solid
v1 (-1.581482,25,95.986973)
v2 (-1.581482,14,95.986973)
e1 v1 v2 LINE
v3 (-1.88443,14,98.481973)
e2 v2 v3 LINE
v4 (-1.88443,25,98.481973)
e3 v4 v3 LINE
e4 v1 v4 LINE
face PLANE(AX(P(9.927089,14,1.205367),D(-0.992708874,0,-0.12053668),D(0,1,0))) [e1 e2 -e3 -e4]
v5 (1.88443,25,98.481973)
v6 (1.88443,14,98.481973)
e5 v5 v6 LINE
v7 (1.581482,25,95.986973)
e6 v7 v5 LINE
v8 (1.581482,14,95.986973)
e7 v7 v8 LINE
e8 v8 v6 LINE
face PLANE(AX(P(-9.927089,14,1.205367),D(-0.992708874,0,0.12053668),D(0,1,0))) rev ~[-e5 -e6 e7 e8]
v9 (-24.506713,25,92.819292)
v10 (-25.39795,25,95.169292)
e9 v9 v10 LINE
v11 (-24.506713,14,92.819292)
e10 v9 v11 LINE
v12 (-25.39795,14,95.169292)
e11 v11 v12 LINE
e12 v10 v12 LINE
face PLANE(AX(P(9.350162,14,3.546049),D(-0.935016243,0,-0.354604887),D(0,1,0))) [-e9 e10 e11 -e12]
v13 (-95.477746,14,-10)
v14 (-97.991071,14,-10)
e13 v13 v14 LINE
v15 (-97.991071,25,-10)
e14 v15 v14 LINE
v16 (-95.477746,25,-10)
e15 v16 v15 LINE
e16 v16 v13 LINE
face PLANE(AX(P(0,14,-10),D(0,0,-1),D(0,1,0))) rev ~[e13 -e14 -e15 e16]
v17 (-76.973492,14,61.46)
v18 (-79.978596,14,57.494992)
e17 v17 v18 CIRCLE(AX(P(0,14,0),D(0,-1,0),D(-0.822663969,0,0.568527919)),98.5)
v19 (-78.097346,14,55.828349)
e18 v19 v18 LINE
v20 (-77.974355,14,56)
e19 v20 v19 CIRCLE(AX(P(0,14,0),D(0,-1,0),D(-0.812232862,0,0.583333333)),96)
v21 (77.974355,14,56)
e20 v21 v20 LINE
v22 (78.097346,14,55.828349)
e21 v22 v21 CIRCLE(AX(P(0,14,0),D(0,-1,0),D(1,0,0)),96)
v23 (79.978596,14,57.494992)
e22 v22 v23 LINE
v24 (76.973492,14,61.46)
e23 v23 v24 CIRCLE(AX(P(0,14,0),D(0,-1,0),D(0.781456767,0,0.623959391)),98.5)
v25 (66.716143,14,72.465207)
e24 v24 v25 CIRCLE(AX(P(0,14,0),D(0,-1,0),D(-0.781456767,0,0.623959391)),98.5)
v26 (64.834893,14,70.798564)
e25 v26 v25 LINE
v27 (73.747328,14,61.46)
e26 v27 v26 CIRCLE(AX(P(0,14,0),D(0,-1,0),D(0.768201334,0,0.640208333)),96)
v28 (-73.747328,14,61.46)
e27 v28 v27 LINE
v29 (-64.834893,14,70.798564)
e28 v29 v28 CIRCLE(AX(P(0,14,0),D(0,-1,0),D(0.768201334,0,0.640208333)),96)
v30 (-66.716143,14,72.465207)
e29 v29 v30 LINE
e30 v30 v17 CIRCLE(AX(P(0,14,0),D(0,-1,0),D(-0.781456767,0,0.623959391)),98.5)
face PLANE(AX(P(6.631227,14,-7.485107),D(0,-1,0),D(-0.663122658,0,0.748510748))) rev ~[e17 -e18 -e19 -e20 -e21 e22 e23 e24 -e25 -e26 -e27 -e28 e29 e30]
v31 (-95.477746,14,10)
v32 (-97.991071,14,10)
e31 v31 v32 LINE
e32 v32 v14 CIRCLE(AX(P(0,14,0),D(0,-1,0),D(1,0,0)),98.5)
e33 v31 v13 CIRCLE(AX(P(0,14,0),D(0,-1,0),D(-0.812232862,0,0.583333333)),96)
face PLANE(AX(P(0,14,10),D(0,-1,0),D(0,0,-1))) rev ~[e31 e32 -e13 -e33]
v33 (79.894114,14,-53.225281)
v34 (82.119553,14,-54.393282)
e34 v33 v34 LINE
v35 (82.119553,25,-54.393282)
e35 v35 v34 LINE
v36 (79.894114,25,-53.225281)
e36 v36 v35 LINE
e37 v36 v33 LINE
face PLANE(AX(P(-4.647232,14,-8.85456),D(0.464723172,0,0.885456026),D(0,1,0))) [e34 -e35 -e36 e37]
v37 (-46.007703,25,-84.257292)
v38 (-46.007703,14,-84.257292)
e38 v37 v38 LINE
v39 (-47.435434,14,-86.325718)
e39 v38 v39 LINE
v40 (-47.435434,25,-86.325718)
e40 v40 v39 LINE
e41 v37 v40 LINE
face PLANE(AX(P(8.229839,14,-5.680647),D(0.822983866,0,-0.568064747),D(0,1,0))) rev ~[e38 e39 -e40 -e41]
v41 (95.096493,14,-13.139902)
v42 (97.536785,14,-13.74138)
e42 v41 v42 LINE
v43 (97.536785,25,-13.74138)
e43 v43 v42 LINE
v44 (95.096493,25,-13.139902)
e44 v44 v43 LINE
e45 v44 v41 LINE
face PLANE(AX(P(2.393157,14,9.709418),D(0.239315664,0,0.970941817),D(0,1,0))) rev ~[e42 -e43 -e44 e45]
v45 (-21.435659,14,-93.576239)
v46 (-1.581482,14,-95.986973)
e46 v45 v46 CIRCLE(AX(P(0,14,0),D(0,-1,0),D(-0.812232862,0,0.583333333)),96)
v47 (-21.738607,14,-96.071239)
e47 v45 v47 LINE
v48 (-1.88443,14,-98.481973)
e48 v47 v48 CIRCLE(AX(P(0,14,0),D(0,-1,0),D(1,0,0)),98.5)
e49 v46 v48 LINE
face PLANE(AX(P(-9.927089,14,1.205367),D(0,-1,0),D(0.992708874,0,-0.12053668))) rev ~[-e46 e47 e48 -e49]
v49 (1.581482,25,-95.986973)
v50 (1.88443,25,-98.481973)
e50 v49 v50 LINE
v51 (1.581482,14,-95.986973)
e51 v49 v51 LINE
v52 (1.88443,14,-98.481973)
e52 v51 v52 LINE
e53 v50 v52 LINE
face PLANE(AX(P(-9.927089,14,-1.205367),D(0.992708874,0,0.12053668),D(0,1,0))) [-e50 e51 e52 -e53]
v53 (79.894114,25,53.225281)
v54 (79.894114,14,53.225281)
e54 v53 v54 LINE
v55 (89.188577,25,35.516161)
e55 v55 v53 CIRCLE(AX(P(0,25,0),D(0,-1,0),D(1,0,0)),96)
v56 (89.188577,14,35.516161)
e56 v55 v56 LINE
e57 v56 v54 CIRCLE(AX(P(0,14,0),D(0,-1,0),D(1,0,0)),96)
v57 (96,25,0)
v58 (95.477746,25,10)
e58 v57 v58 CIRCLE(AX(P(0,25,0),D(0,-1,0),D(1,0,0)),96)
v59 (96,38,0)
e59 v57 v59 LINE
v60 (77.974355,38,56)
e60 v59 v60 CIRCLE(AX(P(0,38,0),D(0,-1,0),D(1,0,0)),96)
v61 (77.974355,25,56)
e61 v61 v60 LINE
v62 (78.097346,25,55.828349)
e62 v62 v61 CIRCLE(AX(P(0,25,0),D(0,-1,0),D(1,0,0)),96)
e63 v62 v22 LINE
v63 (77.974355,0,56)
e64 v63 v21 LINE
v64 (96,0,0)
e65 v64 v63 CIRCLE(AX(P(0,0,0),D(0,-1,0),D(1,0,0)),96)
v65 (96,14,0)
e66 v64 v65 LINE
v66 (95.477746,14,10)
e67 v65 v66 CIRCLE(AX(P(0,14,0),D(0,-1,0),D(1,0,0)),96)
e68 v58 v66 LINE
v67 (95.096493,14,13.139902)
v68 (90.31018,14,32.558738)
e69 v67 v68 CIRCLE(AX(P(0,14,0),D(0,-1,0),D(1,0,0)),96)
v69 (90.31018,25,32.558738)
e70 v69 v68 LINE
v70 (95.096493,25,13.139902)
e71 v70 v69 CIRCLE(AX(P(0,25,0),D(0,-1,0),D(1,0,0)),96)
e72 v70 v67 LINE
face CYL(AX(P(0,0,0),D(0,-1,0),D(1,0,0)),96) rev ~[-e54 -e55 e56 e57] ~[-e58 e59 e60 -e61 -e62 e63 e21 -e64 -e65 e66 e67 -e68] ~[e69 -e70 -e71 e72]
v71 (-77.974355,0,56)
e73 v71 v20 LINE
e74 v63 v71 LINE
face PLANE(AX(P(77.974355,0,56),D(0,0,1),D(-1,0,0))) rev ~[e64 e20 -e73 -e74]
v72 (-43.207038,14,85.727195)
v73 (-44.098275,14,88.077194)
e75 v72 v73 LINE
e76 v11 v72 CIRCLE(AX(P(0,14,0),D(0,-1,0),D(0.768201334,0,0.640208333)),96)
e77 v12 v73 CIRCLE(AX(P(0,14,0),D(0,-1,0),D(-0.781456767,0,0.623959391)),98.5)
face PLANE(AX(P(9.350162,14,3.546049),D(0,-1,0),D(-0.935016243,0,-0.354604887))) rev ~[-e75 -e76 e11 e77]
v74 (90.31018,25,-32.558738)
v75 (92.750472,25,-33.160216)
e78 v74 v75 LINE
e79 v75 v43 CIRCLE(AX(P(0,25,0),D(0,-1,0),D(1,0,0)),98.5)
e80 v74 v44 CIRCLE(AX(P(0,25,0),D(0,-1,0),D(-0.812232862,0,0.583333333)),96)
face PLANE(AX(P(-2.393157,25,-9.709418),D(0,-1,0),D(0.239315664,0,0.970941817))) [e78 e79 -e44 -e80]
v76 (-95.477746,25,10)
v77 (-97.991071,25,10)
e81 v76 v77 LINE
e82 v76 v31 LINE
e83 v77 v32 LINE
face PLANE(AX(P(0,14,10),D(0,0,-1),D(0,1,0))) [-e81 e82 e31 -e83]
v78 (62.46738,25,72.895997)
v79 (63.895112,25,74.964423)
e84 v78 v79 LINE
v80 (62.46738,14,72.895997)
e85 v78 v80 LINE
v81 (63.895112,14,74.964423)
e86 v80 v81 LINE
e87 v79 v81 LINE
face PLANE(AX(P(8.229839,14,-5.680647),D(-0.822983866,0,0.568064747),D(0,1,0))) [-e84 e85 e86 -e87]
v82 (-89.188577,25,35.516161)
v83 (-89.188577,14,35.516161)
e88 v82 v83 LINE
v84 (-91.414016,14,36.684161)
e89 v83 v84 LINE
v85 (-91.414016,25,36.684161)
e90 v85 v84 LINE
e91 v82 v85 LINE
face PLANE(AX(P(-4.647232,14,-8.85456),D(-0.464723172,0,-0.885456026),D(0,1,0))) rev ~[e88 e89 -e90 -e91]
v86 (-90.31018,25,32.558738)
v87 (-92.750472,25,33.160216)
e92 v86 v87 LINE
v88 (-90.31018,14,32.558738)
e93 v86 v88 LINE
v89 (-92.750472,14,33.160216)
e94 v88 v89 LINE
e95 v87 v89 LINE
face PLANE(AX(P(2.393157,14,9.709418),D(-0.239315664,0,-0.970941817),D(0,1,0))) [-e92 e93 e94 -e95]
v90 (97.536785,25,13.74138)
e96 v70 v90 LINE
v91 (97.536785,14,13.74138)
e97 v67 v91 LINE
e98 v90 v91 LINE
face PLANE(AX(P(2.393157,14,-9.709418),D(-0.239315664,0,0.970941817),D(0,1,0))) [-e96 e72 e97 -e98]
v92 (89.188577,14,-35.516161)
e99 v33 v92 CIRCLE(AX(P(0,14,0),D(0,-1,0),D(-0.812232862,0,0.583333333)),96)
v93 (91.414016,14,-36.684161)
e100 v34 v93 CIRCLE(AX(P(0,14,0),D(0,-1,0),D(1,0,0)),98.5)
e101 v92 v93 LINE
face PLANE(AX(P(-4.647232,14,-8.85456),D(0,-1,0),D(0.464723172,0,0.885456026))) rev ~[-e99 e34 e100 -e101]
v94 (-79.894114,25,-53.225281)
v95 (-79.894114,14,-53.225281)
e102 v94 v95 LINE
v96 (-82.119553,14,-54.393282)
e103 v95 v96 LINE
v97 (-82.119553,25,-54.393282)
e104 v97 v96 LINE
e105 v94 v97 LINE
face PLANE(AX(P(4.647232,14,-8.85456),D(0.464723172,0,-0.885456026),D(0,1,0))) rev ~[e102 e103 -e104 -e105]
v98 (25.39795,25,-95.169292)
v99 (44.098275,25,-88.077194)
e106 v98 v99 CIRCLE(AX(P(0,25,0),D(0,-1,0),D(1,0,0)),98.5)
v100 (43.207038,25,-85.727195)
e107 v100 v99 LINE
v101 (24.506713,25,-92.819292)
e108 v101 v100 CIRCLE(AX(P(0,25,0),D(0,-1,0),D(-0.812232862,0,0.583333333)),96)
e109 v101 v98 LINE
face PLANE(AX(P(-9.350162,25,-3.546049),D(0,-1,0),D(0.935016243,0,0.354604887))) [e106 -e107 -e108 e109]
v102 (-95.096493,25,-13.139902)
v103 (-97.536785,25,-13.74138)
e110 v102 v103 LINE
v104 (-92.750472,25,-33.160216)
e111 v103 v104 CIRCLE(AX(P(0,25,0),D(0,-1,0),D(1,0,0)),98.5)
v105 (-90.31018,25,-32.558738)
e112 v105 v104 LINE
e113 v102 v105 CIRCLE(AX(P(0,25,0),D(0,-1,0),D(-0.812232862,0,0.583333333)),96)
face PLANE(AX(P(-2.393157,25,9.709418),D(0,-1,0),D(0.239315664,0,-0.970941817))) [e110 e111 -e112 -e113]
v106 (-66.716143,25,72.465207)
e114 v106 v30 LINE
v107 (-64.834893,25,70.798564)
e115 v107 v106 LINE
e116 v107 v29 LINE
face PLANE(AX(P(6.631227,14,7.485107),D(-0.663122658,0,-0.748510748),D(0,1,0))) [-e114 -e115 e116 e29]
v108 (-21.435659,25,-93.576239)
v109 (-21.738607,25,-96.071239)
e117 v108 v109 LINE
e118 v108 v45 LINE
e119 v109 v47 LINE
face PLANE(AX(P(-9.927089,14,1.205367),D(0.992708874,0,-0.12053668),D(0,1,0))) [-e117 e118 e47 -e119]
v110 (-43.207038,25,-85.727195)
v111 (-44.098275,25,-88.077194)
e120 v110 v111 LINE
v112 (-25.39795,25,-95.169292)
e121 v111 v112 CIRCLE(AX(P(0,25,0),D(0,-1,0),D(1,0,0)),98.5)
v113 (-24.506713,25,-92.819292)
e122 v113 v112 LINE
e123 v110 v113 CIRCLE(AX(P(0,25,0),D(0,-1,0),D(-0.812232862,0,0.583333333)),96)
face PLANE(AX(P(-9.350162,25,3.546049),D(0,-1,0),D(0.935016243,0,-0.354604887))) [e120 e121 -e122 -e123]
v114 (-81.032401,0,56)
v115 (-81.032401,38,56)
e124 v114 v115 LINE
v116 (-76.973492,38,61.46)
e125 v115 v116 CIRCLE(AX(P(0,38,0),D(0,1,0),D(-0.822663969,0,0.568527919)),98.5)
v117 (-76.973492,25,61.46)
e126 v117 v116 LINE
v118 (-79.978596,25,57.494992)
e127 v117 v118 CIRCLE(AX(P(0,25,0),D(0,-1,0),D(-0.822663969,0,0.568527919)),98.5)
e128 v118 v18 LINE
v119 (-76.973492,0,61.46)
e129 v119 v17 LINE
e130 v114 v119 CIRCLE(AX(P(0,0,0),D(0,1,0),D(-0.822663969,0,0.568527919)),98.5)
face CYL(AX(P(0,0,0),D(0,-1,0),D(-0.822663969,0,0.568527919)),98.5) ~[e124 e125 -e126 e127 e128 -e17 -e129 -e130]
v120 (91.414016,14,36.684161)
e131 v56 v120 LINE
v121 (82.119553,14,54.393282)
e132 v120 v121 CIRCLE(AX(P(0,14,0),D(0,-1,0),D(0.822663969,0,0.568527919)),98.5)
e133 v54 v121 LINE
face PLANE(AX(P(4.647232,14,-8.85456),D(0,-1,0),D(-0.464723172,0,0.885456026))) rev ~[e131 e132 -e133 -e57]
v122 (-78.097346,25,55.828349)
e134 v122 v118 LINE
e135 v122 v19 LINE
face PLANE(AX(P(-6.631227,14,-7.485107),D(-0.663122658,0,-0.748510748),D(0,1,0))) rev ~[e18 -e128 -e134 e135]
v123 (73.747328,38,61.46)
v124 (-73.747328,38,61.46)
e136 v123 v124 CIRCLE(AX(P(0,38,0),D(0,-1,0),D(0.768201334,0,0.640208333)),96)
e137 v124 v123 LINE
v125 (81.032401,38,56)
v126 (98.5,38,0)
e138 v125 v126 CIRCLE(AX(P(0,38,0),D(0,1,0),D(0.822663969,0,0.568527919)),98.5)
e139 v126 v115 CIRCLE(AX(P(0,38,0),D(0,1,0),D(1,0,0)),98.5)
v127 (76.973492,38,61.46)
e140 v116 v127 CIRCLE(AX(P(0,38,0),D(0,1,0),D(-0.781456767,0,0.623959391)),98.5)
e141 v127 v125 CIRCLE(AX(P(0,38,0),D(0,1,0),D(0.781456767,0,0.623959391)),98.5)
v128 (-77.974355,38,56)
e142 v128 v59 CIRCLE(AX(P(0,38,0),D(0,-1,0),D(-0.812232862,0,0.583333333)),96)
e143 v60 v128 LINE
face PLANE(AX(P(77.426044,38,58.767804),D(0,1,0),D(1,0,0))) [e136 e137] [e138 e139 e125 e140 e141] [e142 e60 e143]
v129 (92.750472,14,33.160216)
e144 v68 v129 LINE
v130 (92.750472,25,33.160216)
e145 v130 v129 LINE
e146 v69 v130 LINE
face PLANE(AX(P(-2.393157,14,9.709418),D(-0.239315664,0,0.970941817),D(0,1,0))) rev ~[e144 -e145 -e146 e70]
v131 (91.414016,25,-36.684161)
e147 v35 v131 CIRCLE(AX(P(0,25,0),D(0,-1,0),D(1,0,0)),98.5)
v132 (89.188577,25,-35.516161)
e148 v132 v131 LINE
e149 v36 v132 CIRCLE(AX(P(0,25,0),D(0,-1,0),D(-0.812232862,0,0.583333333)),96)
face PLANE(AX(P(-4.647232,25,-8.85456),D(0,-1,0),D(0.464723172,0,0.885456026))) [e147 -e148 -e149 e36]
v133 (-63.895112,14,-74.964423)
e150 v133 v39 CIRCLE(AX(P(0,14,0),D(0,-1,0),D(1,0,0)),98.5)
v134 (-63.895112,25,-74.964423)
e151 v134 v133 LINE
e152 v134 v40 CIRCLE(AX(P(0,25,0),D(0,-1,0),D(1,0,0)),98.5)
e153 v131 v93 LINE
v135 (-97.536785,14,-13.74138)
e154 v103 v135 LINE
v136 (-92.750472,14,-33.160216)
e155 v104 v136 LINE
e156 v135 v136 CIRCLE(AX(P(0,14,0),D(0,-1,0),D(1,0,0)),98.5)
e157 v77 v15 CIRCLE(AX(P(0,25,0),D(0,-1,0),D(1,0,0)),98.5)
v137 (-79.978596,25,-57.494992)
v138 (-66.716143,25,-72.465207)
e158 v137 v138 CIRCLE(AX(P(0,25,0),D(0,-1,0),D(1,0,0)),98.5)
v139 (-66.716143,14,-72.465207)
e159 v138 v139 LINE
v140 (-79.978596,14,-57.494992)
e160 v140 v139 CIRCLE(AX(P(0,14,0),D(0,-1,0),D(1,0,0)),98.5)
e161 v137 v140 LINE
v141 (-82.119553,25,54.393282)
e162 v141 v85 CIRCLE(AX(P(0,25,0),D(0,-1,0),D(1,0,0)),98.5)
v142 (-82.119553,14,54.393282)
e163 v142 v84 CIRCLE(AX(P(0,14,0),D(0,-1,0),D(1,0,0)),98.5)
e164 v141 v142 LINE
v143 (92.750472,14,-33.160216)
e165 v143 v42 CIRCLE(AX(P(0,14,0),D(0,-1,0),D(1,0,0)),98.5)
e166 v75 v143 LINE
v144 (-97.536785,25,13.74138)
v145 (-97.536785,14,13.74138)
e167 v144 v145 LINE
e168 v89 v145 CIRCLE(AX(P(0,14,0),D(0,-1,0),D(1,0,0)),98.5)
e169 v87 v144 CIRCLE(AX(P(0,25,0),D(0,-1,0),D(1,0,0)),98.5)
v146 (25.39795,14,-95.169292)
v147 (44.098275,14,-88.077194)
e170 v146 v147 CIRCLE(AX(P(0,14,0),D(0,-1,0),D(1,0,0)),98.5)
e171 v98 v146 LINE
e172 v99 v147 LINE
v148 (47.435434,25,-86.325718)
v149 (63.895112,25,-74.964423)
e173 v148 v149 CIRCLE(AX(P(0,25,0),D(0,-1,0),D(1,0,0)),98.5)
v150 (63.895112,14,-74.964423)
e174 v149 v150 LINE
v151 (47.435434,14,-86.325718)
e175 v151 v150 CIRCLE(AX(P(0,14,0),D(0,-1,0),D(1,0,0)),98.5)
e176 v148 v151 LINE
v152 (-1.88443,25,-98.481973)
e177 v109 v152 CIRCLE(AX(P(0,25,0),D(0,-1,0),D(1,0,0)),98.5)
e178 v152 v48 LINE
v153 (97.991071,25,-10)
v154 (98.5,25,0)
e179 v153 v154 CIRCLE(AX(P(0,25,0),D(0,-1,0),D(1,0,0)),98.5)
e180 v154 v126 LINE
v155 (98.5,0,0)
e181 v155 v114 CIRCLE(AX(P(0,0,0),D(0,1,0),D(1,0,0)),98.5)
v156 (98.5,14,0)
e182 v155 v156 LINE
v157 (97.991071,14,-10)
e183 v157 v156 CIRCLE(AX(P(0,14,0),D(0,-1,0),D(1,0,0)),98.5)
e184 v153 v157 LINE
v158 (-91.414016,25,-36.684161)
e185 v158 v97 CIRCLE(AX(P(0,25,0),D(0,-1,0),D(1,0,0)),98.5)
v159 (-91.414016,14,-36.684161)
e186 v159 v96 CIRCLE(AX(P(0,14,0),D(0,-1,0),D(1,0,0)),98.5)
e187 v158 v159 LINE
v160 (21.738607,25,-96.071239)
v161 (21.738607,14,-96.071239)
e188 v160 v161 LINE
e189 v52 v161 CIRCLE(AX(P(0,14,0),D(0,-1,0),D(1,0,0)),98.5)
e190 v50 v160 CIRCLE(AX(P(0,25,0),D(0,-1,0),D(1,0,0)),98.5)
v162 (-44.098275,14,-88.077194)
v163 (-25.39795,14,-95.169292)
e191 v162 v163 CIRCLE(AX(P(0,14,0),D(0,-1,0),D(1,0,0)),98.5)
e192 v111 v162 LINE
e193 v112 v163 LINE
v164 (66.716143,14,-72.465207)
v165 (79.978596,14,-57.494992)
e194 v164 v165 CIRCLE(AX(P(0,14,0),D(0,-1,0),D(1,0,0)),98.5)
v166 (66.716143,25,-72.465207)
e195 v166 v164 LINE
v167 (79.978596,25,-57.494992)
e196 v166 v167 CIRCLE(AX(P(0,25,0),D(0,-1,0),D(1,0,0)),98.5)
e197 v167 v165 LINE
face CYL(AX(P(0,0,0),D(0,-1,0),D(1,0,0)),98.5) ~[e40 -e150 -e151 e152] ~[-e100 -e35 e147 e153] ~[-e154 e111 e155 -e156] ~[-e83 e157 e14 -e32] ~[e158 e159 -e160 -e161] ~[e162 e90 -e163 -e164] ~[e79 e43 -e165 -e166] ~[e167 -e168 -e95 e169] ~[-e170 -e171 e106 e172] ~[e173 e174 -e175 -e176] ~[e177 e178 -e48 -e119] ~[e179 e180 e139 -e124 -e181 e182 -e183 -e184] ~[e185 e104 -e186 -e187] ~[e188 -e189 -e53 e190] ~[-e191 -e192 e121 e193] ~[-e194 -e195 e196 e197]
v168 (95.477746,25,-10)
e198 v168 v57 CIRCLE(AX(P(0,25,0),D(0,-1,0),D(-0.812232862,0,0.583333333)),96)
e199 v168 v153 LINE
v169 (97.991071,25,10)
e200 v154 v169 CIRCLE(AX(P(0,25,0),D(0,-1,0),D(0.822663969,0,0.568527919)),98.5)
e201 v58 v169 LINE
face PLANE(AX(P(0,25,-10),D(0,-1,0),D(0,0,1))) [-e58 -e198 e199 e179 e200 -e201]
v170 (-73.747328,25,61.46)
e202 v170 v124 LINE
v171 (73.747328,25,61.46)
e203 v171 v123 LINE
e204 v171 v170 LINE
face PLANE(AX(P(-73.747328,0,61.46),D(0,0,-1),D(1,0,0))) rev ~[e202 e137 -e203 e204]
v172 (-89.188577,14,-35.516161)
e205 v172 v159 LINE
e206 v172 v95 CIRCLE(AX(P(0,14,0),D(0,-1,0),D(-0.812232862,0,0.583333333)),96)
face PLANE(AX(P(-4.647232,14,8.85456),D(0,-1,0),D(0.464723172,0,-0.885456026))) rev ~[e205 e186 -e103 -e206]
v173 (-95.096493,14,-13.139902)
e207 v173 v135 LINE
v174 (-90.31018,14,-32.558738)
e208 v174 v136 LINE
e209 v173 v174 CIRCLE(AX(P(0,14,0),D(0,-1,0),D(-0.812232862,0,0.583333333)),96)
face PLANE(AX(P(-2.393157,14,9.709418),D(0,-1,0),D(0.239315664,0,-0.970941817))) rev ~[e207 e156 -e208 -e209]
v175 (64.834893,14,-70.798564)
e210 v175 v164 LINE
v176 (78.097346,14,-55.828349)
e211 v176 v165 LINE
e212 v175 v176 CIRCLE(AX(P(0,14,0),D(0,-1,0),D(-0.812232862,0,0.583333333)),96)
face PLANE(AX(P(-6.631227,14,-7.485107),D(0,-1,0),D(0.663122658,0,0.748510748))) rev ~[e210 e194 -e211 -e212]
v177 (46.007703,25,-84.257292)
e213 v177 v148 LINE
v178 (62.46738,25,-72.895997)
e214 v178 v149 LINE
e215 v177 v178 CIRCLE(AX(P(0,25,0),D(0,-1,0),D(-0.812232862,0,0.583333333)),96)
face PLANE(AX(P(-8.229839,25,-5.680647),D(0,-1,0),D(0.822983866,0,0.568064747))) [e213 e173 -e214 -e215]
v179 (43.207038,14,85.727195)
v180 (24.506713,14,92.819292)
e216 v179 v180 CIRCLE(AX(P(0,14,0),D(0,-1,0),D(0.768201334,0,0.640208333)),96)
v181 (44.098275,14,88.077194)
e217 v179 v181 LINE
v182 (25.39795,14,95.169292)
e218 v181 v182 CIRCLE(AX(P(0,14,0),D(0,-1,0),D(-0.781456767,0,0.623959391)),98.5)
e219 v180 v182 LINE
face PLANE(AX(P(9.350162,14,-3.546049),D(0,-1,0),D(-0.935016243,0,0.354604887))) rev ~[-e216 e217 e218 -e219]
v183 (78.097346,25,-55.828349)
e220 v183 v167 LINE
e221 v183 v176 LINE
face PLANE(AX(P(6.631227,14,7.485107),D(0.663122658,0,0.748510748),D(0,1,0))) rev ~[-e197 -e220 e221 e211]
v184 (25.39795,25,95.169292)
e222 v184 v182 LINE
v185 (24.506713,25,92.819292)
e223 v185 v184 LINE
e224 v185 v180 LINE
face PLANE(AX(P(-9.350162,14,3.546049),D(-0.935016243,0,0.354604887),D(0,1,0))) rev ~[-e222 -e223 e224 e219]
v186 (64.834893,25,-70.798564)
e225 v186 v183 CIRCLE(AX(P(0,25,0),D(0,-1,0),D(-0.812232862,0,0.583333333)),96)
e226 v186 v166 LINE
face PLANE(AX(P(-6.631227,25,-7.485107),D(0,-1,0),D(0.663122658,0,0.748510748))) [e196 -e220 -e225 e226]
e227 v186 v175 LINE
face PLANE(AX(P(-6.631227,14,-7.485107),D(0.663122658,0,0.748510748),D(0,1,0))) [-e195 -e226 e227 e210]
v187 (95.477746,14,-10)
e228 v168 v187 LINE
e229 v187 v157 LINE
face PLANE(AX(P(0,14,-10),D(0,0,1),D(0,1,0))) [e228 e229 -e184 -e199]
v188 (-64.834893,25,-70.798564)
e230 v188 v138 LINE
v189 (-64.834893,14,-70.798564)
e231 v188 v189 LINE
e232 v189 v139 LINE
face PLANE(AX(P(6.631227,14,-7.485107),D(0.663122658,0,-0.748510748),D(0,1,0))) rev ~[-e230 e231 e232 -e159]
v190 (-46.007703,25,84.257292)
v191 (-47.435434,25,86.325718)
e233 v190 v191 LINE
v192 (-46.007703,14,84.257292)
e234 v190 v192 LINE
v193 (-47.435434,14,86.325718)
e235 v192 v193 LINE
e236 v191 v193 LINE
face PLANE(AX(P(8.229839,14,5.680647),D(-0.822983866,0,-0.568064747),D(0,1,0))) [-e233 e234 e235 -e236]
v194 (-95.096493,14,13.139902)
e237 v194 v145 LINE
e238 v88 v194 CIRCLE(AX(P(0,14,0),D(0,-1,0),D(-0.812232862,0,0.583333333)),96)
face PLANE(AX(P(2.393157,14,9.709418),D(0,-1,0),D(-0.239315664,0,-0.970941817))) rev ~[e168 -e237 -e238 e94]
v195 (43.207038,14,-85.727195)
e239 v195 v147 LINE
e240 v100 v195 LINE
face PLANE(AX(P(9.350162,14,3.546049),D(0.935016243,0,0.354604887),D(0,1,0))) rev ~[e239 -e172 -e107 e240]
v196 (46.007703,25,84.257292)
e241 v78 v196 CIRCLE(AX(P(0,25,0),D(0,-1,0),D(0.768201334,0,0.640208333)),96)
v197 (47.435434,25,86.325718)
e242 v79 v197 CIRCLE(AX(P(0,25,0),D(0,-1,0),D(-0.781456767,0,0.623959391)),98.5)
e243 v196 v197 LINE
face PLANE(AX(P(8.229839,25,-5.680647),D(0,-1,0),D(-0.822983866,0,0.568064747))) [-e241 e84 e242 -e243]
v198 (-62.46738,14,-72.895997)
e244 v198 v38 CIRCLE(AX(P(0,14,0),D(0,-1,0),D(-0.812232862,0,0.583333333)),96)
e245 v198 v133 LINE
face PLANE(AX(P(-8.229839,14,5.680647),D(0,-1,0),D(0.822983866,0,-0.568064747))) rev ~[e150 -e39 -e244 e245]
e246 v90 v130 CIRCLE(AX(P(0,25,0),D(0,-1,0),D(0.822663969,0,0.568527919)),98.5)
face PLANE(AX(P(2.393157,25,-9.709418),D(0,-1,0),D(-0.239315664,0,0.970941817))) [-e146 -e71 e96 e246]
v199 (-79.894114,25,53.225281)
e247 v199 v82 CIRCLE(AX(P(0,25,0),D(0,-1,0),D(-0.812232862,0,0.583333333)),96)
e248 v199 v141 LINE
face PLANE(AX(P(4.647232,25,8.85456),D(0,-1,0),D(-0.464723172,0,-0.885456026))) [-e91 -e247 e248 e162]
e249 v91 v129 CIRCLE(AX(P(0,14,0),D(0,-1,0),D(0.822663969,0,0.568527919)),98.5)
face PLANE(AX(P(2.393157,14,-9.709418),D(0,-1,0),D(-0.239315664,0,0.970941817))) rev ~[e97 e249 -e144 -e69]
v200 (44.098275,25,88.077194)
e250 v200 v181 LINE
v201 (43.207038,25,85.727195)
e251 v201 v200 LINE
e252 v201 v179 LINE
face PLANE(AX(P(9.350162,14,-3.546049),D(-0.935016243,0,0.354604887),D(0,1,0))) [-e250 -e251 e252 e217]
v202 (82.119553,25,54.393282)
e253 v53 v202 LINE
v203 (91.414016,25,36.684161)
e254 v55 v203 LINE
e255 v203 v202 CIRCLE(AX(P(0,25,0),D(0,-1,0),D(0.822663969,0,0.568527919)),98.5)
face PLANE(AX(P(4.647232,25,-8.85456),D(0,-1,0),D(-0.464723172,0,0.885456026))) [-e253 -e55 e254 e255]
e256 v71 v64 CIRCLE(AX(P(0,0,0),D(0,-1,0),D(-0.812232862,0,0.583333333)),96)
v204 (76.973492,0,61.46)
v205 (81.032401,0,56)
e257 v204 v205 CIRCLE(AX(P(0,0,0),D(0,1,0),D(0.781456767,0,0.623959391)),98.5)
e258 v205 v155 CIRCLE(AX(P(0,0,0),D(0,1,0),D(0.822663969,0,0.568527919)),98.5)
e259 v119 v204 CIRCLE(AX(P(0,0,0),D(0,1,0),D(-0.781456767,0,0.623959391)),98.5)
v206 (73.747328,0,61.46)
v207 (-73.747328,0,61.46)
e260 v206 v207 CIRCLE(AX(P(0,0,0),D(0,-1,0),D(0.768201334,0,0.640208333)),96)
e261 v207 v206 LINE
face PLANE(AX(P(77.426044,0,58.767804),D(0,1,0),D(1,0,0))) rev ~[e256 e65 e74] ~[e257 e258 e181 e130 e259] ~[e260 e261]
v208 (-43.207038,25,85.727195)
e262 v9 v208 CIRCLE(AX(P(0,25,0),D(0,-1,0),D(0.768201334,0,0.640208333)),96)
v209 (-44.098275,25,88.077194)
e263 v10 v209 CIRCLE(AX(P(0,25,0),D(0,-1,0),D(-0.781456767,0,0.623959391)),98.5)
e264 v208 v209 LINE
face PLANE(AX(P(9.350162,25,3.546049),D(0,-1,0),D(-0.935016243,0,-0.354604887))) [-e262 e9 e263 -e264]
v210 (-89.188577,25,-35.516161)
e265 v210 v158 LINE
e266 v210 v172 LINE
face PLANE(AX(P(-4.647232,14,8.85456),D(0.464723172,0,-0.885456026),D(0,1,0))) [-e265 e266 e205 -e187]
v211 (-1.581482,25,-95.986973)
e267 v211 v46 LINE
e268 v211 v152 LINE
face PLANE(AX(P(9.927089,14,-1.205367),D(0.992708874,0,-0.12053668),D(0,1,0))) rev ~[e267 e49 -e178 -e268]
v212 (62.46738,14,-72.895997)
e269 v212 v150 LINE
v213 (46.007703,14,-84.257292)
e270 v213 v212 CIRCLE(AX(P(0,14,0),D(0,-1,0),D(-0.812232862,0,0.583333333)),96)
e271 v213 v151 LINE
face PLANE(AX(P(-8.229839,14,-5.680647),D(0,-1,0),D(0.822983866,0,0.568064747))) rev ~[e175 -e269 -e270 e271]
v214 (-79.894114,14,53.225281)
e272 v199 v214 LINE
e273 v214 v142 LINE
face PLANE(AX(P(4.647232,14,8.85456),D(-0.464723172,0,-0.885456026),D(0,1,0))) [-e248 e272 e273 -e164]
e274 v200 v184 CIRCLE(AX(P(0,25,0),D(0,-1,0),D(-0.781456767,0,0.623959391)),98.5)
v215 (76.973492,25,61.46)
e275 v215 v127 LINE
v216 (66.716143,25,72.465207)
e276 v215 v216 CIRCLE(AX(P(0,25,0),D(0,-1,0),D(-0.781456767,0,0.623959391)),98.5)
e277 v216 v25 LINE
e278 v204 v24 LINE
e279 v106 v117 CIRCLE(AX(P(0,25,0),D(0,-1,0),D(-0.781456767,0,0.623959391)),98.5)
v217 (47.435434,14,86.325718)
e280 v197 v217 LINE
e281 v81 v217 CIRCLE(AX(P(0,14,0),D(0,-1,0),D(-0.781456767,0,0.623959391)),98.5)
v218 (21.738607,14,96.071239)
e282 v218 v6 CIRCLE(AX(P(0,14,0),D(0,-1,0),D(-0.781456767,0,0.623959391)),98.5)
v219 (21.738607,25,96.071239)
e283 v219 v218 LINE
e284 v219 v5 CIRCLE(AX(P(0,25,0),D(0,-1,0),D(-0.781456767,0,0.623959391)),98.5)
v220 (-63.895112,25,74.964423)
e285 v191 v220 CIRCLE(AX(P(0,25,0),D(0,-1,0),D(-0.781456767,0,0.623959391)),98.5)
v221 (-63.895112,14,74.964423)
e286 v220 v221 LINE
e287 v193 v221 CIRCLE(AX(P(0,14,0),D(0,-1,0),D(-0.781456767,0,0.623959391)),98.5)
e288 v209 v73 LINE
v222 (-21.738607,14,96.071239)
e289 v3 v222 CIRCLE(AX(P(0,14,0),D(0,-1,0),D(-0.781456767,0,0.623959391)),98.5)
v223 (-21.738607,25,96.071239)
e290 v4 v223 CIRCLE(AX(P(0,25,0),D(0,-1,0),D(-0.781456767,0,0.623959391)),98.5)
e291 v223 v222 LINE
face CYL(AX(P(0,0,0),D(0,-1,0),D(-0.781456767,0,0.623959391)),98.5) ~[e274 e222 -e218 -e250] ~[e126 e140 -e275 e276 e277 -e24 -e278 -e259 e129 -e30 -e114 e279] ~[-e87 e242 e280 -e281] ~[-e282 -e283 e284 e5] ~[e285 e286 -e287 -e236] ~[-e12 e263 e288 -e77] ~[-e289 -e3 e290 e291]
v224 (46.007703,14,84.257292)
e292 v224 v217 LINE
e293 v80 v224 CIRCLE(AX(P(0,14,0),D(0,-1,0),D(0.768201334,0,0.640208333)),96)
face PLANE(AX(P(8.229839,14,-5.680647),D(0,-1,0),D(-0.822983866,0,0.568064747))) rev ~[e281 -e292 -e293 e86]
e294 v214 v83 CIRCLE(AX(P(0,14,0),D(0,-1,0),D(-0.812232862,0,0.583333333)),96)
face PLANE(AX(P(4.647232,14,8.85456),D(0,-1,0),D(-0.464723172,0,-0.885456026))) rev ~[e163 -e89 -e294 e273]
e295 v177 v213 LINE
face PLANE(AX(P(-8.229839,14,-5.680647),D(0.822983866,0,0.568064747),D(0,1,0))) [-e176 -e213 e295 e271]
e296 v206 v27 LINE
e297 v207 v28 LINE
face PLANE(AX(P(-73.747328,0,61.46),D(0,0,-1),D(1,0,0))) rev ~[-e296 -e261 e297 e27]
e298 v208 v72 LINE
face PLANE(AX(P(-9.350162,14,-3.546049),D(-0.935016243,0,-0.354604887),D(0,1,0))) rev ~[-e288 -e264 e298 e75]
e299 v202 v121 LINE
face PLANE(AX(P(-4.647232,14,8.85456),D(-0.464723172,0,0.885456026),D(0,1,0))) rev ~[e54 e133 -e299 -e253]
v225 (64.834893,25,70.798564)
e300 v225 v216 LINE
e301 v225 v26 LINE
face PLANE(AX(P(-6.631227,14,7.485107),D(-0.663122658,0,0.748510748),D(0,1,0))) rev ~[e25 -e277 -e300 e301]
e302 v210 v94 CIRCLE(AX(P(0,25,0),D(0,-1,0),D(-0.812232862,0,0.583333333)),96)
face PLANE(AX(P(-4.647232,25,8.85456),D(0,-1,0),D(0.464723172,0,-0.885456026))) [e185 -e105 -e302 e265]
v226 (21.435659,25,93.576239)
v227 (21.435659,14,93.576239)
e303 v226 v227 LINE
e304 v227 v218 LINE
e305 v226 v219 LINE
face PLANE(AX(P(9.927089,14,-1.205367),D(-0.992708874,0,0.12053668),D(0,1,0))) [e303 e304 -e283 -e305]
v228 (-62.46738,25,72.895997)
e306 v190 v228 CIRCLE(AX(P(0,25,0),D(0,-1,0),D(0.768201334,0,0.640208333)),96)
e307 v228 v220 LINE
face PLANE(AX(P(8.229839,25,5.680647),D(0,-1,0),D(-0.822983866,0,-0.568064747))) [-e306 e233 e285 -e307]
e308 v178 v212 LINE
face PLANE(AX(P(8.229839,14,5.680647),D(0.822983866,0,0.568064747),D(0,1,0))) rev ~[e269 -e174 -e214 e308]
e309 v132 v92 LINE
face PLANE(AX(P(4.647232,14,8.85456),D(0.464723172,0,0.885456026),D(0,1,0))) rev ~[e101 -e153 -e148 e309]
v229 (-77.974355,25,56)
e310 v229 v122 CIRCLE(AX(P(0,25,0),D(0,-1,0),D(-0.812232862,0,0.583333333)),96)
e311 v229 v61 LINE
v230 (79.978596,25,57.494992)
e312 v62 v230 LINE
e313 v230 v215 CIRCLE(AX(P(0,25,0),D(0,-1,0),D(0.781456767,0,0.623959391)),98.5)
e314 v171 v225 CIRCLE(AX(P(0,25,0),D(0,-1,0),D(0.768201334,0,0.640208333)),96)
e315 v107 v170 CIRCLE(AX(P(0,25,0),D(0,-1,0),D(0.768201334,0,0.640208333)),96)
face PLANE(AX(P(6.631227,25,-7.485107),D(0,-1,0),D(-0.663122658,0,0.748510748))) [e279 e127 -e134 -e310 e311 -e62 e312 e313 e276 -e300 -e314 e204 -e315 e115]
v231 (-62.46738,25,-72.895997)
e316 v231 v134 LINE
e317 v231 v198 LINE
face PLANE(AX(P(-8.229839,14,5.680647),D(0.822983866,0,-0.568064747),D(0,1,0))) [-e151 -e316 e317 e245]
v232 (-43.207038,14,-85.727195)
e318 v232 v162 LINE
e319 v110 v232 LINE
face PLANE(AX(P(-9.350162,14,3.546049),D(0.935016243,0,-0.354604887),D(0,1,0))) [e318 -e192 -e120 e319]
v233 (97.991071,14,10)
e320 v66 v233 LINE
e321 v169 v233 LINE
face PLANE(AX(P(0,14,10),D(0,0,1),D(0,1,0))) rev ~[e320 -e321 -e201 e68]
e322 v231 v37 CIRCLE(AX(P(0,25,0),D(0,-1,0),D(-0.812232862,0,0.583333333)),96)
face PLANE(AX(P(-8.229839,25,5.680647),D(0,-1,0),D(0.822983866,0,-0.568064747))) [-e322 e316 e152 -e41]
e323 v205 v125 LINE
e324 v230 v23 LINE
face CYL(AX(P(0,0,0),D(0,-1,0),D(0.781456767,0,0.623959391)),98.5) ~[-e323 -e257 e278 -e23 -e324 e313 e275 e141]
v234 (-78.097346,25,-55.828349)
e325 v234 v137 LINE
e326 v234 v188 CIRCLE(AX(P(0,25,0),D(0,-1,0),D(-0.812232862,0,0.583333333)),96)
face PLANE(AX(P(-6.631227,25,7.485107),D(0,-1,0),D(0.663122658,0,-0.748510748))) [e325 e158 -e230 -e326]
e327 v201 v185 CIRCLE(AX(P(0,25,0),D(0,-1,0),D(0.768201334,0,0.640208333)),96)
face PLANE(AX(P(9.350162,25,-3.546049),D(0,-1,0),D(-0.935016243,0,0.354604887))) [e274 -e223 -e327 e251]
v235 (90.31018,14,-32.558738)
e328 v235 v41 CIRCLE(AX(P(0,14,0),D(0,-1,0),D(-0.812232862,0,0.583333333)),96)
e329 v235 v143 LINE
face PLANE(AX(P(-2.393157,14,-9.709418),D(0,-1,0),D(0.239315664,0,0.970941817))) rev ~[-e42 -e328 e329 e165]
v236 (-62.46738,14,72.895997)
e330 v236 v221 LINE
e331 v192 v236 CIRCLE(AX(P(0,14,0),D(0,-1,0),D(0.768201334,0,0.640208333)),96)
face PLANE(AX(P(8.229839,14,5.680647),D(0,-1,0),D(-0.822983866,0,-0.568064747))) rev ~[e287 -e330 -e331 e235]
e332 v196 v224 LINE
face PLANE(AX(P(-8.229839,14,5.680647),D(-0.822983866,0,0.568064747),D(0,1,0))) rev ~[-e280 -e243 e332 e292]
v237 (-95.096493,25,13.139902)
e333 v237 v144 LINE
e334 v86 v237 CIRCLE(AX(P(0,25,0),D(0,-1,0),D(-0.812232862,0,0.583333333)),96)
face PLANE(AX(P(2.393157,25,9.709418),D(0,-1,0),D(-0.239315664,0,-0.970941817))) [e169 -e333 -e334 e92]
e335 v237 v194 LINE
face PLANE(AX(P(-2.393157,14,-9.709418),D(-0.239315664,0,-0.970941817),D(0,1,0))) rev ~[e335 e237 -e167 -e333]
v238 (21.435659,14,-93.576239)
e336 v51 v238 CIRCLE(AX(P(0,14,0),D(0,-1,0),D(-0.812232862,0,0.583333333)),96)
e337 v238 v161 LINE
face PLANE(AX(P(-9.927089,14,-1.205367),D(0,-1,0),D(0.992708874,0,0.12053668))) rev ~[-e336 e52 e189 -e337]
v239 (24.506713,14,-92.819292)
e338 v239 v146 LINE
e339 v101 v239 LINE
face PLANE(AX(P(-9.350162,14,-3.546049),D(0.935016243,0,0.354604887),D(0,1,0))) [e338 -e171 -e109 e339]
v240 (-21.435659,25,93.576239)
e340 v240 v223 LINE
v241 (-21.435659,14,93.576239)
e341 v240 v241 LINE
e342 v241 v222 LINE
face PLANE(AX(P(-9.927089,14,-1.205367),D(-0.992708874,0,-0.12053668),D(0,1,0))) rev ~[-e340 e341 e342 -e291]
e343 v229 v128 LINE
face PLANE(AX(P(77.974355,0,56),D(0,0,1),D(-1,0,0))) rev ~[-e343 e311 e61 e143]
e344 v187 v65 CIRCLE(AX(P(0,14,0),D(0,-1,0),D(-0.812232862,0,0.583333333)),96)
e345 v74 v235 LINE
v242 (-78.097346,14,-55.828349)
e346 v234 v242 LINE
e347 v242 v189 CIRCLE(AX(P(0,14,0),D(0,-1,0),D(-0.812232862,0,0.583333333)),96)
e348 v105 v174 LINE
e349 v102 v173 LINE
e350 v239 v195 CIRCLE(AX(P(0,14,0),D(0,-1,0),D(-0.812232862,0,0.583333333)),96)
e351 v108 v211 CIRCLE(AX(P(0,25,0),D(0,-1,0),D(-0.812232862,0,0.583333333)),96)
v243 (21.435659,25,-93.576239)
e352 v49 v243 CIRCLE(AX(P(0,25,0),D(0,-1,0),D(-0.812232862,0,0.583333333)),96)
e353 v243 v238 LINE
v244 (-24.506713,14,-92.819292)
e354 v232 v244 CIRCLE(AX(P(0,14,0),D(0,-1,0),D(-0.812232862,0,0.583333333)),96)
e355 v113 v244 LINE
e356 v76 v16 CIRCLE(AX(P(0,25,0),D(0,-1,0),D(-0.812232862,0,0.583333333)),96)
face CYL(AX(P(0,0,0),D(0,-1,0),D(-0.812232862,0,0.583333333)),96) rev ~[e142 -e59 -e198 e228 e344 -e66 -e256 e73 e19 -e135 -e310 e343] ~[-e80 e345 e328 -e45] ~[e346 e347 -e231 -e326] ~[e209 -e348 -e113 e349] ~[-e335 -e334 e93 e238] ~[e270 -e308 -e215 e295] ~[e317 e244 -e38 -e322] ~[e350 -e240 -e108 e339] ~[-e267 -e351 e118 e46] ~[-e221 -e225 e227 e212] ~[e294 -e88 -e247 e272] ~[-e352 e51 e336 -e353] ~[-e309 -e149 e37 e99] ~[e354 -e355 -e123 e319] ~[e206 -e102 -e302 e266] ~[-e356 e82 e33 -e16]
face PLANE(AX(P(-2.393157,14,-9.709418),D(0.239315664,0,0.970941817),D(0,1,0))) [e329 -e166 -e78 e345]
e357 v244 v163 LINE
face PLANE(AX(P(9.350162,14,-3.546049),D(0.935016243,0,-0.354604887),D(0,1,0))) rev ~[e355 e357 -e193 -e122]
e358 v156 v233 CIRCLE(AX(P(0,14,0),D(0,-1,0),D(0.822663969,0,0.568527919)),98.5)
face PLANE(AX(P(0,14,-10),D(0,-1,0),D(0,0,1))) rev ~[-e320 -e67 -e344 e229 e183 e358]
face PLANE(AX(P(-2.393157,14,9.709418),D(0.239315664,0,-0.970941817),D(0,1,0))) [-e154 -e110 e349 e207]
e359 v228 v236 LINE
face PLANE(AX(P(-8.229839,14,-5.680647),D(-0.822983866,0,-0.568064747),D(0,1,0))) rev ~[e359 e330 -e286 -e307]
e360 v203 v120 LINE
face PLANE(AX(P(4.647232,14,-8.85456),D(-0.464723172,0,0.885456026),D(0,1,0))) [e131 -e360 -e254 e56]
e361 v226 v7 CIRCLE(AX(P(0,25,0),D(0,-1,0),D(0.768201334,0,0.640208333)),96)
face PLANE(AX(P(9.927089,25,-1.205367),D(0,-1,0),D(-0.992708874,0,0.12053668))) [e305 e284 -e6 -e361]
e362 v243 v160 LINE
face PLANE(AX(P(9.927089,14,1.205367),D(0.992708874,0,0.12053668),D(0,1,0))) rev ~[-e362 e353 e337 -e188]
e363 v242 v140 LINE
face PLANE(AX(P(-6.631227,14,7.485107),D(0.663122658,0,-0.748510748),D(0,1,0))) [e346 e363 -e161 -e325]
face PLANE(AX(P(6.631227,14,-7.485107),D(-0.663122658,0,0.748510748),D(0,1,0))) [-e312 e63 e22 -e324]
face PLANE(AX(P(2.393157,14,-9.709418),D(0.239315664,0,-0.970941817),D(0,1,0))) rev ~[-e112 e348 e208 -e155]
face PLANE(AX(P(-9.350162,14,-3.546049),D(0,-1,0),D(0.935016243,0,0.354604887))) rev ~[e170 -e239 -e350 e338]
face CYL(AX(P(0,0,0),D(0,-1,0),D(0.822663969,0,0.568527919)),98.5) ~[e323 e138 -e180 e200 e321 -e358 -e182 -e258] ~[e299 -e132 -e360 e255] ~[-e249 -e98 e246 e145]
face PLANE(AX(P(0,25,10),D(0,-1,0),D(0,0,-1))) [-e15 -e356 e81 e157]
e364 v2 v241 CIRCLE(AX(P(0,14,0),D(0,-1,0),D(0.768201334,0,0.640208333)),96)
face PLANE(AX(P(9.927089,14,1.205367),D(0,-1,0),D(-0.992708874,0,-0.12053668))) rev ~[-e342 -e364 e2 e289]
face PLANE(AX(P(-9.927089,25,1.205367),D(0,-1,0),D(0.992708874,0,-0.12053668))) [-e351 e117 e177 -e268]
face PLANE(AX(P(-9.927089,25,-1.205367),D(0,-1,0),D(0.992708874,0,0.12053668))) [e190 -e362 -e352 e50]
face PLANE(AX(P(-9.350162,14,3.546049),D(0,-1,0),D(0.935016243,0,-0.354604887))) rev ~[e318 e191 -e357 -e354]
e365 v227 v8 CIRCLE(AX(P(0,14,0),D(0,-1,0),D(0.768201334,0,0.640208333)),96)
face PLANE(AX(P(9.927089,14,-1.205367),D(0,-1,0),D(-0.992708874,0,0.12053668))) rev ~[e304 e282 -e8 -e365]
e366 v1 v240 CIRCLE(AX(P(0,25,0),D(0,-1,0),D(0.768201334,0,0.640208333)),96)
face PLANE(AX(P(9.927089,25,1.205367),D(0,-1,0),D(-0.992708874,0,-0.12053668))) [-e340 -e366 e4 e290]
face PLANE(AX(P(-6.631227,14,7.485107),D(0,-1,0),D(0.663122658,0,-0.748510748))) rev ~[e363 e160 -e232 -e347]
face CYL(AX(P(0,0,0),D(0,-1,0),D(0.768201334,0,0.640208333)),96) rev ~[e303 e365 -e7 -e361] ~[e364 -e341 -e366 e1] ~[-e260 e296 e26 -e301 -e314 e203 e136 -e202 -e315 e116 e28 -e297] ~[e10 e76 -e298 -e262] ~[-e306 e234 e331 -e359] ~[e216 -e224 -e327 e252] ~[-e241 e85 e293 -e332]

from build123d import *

# Parameters (mm, degrees)
BOSS_EXTRUDE1_DEPTH = 38
SKETCH2_W           = 20
SKETCH2_H           = 11
CUT_EXTRUDE1_DEPTH  = 145.390096613
CIRPATTERN1_COUNT   = 26


with BuildPart() as part:
    # Sketch1 → Boss-Extrude1 (new body)
    with BuildSketch(Plane(origin=(0, 0, 0), x_dir=(1, 0, 0), z_dir=(0, 1, 0))):
        with BuildLine():
            ThreePointArc((76.973491541, -61.46), (79.050100656, -58.765054125), (81.032400927, -56))
            Line((81.032400927, -56), (77.974354758, -56))
            ThreePointArc((77.974354758, -56), (75.90994771, -58.76801714), (73.747328087, -61.46))
            Line((73.747328087, -61.46), (76.973491541, -61.46))
        make_face()
        with BuildLine():
            ThreePointArc((73.747328087, -61.46), (75.90994771, -58.76801714), (77.974354758, -56))
            Line((77.974354758, -56), (-77.974354758, -56))
            ThreePointArc((-77.974354758, -56), (-75.90994771, -58.76801714), (-73.747328087, -61.46))
            Line((-73.747328087, -61.46), (73.747328087, -61.46))
        make_face()
        with BuildLine():
            ThreePointArc((-73.747328087, -61.46), (-75.90994771, -58.76801714), (-77.974354758, -56))
            Line((-77.974354758, -56), (-81.032400927, -56))
            ThreePointArc((-81.032400927, -56), (-79.050100656, -58.765054125), (-76.973491541, -61.46))
            Line((-76.973491541, -61.46), (-73.747328087, -61.46))
        make_face()
        with BuildLine():
            Line((77.974354758, -56), (81.032400927, -56))
            ThreePointArc((81.032400927, -56), (94.031753922, -29.330517458), (98.5, 0))
            ThreePointArc((98.5, 0), (-29.330517458, 94.031753922), (-81.032400927, -56))
            Line((-81.032400927, -56), (-77.974354758, -56))
            ThreePointArc((-77.974354758, -56), (-29.414808713, 91.382542252), (96, 0))
            ThreePointArc((96, 0), (91.382542252, -29.414808713), (77.974354758, -56))
        make_face()
        with BuildLine():
            ThreePointArc((-76.973491541, -61.46), (0, -98.5), (76.973491541, -61.46))
            Line((76.973491541, -61.46), (73.747328087, -61.46))
            ThreePointArc((73.747328087, -61.46), (0, -96), (-73.747328087, -61.46))
            Line((-73.747328087, -61.46), (-76.973491541, -61.46))
        make_face()
    extrude(amount=BOSS_EXTRUDE1_DEPTH)

    # Sketch2 → Cut-Extrude1 (cut, through all)
    with BuildSketch(Plane(origin=(0, 0, 0), x_dir=(0, 0, -1), z_dir=(1, 0, 0))):
        with Locations((0, 19.5)):
            Rectangle(SKETCH2_W, SKETCH2_H)
    cut_extrude1 = extrude(amount=-CUT_EXTRUDE1_DEPTH, mode=Mode.SUBTRACT)

    # CirPattern1: Cut-Extrude1 ×26 about axis
    cirpattern1_axis = Axis((0, 0, 0), (0, 1, 0))
    for i in range(1, CIRPATTERN1_COUNT):
        add(cut_extrude1.rotate(cirpattern1_axis, i * 360 / CIRPATTERN1_COUNT), mode=Mode.SUBTRACT)


solid = part.part
